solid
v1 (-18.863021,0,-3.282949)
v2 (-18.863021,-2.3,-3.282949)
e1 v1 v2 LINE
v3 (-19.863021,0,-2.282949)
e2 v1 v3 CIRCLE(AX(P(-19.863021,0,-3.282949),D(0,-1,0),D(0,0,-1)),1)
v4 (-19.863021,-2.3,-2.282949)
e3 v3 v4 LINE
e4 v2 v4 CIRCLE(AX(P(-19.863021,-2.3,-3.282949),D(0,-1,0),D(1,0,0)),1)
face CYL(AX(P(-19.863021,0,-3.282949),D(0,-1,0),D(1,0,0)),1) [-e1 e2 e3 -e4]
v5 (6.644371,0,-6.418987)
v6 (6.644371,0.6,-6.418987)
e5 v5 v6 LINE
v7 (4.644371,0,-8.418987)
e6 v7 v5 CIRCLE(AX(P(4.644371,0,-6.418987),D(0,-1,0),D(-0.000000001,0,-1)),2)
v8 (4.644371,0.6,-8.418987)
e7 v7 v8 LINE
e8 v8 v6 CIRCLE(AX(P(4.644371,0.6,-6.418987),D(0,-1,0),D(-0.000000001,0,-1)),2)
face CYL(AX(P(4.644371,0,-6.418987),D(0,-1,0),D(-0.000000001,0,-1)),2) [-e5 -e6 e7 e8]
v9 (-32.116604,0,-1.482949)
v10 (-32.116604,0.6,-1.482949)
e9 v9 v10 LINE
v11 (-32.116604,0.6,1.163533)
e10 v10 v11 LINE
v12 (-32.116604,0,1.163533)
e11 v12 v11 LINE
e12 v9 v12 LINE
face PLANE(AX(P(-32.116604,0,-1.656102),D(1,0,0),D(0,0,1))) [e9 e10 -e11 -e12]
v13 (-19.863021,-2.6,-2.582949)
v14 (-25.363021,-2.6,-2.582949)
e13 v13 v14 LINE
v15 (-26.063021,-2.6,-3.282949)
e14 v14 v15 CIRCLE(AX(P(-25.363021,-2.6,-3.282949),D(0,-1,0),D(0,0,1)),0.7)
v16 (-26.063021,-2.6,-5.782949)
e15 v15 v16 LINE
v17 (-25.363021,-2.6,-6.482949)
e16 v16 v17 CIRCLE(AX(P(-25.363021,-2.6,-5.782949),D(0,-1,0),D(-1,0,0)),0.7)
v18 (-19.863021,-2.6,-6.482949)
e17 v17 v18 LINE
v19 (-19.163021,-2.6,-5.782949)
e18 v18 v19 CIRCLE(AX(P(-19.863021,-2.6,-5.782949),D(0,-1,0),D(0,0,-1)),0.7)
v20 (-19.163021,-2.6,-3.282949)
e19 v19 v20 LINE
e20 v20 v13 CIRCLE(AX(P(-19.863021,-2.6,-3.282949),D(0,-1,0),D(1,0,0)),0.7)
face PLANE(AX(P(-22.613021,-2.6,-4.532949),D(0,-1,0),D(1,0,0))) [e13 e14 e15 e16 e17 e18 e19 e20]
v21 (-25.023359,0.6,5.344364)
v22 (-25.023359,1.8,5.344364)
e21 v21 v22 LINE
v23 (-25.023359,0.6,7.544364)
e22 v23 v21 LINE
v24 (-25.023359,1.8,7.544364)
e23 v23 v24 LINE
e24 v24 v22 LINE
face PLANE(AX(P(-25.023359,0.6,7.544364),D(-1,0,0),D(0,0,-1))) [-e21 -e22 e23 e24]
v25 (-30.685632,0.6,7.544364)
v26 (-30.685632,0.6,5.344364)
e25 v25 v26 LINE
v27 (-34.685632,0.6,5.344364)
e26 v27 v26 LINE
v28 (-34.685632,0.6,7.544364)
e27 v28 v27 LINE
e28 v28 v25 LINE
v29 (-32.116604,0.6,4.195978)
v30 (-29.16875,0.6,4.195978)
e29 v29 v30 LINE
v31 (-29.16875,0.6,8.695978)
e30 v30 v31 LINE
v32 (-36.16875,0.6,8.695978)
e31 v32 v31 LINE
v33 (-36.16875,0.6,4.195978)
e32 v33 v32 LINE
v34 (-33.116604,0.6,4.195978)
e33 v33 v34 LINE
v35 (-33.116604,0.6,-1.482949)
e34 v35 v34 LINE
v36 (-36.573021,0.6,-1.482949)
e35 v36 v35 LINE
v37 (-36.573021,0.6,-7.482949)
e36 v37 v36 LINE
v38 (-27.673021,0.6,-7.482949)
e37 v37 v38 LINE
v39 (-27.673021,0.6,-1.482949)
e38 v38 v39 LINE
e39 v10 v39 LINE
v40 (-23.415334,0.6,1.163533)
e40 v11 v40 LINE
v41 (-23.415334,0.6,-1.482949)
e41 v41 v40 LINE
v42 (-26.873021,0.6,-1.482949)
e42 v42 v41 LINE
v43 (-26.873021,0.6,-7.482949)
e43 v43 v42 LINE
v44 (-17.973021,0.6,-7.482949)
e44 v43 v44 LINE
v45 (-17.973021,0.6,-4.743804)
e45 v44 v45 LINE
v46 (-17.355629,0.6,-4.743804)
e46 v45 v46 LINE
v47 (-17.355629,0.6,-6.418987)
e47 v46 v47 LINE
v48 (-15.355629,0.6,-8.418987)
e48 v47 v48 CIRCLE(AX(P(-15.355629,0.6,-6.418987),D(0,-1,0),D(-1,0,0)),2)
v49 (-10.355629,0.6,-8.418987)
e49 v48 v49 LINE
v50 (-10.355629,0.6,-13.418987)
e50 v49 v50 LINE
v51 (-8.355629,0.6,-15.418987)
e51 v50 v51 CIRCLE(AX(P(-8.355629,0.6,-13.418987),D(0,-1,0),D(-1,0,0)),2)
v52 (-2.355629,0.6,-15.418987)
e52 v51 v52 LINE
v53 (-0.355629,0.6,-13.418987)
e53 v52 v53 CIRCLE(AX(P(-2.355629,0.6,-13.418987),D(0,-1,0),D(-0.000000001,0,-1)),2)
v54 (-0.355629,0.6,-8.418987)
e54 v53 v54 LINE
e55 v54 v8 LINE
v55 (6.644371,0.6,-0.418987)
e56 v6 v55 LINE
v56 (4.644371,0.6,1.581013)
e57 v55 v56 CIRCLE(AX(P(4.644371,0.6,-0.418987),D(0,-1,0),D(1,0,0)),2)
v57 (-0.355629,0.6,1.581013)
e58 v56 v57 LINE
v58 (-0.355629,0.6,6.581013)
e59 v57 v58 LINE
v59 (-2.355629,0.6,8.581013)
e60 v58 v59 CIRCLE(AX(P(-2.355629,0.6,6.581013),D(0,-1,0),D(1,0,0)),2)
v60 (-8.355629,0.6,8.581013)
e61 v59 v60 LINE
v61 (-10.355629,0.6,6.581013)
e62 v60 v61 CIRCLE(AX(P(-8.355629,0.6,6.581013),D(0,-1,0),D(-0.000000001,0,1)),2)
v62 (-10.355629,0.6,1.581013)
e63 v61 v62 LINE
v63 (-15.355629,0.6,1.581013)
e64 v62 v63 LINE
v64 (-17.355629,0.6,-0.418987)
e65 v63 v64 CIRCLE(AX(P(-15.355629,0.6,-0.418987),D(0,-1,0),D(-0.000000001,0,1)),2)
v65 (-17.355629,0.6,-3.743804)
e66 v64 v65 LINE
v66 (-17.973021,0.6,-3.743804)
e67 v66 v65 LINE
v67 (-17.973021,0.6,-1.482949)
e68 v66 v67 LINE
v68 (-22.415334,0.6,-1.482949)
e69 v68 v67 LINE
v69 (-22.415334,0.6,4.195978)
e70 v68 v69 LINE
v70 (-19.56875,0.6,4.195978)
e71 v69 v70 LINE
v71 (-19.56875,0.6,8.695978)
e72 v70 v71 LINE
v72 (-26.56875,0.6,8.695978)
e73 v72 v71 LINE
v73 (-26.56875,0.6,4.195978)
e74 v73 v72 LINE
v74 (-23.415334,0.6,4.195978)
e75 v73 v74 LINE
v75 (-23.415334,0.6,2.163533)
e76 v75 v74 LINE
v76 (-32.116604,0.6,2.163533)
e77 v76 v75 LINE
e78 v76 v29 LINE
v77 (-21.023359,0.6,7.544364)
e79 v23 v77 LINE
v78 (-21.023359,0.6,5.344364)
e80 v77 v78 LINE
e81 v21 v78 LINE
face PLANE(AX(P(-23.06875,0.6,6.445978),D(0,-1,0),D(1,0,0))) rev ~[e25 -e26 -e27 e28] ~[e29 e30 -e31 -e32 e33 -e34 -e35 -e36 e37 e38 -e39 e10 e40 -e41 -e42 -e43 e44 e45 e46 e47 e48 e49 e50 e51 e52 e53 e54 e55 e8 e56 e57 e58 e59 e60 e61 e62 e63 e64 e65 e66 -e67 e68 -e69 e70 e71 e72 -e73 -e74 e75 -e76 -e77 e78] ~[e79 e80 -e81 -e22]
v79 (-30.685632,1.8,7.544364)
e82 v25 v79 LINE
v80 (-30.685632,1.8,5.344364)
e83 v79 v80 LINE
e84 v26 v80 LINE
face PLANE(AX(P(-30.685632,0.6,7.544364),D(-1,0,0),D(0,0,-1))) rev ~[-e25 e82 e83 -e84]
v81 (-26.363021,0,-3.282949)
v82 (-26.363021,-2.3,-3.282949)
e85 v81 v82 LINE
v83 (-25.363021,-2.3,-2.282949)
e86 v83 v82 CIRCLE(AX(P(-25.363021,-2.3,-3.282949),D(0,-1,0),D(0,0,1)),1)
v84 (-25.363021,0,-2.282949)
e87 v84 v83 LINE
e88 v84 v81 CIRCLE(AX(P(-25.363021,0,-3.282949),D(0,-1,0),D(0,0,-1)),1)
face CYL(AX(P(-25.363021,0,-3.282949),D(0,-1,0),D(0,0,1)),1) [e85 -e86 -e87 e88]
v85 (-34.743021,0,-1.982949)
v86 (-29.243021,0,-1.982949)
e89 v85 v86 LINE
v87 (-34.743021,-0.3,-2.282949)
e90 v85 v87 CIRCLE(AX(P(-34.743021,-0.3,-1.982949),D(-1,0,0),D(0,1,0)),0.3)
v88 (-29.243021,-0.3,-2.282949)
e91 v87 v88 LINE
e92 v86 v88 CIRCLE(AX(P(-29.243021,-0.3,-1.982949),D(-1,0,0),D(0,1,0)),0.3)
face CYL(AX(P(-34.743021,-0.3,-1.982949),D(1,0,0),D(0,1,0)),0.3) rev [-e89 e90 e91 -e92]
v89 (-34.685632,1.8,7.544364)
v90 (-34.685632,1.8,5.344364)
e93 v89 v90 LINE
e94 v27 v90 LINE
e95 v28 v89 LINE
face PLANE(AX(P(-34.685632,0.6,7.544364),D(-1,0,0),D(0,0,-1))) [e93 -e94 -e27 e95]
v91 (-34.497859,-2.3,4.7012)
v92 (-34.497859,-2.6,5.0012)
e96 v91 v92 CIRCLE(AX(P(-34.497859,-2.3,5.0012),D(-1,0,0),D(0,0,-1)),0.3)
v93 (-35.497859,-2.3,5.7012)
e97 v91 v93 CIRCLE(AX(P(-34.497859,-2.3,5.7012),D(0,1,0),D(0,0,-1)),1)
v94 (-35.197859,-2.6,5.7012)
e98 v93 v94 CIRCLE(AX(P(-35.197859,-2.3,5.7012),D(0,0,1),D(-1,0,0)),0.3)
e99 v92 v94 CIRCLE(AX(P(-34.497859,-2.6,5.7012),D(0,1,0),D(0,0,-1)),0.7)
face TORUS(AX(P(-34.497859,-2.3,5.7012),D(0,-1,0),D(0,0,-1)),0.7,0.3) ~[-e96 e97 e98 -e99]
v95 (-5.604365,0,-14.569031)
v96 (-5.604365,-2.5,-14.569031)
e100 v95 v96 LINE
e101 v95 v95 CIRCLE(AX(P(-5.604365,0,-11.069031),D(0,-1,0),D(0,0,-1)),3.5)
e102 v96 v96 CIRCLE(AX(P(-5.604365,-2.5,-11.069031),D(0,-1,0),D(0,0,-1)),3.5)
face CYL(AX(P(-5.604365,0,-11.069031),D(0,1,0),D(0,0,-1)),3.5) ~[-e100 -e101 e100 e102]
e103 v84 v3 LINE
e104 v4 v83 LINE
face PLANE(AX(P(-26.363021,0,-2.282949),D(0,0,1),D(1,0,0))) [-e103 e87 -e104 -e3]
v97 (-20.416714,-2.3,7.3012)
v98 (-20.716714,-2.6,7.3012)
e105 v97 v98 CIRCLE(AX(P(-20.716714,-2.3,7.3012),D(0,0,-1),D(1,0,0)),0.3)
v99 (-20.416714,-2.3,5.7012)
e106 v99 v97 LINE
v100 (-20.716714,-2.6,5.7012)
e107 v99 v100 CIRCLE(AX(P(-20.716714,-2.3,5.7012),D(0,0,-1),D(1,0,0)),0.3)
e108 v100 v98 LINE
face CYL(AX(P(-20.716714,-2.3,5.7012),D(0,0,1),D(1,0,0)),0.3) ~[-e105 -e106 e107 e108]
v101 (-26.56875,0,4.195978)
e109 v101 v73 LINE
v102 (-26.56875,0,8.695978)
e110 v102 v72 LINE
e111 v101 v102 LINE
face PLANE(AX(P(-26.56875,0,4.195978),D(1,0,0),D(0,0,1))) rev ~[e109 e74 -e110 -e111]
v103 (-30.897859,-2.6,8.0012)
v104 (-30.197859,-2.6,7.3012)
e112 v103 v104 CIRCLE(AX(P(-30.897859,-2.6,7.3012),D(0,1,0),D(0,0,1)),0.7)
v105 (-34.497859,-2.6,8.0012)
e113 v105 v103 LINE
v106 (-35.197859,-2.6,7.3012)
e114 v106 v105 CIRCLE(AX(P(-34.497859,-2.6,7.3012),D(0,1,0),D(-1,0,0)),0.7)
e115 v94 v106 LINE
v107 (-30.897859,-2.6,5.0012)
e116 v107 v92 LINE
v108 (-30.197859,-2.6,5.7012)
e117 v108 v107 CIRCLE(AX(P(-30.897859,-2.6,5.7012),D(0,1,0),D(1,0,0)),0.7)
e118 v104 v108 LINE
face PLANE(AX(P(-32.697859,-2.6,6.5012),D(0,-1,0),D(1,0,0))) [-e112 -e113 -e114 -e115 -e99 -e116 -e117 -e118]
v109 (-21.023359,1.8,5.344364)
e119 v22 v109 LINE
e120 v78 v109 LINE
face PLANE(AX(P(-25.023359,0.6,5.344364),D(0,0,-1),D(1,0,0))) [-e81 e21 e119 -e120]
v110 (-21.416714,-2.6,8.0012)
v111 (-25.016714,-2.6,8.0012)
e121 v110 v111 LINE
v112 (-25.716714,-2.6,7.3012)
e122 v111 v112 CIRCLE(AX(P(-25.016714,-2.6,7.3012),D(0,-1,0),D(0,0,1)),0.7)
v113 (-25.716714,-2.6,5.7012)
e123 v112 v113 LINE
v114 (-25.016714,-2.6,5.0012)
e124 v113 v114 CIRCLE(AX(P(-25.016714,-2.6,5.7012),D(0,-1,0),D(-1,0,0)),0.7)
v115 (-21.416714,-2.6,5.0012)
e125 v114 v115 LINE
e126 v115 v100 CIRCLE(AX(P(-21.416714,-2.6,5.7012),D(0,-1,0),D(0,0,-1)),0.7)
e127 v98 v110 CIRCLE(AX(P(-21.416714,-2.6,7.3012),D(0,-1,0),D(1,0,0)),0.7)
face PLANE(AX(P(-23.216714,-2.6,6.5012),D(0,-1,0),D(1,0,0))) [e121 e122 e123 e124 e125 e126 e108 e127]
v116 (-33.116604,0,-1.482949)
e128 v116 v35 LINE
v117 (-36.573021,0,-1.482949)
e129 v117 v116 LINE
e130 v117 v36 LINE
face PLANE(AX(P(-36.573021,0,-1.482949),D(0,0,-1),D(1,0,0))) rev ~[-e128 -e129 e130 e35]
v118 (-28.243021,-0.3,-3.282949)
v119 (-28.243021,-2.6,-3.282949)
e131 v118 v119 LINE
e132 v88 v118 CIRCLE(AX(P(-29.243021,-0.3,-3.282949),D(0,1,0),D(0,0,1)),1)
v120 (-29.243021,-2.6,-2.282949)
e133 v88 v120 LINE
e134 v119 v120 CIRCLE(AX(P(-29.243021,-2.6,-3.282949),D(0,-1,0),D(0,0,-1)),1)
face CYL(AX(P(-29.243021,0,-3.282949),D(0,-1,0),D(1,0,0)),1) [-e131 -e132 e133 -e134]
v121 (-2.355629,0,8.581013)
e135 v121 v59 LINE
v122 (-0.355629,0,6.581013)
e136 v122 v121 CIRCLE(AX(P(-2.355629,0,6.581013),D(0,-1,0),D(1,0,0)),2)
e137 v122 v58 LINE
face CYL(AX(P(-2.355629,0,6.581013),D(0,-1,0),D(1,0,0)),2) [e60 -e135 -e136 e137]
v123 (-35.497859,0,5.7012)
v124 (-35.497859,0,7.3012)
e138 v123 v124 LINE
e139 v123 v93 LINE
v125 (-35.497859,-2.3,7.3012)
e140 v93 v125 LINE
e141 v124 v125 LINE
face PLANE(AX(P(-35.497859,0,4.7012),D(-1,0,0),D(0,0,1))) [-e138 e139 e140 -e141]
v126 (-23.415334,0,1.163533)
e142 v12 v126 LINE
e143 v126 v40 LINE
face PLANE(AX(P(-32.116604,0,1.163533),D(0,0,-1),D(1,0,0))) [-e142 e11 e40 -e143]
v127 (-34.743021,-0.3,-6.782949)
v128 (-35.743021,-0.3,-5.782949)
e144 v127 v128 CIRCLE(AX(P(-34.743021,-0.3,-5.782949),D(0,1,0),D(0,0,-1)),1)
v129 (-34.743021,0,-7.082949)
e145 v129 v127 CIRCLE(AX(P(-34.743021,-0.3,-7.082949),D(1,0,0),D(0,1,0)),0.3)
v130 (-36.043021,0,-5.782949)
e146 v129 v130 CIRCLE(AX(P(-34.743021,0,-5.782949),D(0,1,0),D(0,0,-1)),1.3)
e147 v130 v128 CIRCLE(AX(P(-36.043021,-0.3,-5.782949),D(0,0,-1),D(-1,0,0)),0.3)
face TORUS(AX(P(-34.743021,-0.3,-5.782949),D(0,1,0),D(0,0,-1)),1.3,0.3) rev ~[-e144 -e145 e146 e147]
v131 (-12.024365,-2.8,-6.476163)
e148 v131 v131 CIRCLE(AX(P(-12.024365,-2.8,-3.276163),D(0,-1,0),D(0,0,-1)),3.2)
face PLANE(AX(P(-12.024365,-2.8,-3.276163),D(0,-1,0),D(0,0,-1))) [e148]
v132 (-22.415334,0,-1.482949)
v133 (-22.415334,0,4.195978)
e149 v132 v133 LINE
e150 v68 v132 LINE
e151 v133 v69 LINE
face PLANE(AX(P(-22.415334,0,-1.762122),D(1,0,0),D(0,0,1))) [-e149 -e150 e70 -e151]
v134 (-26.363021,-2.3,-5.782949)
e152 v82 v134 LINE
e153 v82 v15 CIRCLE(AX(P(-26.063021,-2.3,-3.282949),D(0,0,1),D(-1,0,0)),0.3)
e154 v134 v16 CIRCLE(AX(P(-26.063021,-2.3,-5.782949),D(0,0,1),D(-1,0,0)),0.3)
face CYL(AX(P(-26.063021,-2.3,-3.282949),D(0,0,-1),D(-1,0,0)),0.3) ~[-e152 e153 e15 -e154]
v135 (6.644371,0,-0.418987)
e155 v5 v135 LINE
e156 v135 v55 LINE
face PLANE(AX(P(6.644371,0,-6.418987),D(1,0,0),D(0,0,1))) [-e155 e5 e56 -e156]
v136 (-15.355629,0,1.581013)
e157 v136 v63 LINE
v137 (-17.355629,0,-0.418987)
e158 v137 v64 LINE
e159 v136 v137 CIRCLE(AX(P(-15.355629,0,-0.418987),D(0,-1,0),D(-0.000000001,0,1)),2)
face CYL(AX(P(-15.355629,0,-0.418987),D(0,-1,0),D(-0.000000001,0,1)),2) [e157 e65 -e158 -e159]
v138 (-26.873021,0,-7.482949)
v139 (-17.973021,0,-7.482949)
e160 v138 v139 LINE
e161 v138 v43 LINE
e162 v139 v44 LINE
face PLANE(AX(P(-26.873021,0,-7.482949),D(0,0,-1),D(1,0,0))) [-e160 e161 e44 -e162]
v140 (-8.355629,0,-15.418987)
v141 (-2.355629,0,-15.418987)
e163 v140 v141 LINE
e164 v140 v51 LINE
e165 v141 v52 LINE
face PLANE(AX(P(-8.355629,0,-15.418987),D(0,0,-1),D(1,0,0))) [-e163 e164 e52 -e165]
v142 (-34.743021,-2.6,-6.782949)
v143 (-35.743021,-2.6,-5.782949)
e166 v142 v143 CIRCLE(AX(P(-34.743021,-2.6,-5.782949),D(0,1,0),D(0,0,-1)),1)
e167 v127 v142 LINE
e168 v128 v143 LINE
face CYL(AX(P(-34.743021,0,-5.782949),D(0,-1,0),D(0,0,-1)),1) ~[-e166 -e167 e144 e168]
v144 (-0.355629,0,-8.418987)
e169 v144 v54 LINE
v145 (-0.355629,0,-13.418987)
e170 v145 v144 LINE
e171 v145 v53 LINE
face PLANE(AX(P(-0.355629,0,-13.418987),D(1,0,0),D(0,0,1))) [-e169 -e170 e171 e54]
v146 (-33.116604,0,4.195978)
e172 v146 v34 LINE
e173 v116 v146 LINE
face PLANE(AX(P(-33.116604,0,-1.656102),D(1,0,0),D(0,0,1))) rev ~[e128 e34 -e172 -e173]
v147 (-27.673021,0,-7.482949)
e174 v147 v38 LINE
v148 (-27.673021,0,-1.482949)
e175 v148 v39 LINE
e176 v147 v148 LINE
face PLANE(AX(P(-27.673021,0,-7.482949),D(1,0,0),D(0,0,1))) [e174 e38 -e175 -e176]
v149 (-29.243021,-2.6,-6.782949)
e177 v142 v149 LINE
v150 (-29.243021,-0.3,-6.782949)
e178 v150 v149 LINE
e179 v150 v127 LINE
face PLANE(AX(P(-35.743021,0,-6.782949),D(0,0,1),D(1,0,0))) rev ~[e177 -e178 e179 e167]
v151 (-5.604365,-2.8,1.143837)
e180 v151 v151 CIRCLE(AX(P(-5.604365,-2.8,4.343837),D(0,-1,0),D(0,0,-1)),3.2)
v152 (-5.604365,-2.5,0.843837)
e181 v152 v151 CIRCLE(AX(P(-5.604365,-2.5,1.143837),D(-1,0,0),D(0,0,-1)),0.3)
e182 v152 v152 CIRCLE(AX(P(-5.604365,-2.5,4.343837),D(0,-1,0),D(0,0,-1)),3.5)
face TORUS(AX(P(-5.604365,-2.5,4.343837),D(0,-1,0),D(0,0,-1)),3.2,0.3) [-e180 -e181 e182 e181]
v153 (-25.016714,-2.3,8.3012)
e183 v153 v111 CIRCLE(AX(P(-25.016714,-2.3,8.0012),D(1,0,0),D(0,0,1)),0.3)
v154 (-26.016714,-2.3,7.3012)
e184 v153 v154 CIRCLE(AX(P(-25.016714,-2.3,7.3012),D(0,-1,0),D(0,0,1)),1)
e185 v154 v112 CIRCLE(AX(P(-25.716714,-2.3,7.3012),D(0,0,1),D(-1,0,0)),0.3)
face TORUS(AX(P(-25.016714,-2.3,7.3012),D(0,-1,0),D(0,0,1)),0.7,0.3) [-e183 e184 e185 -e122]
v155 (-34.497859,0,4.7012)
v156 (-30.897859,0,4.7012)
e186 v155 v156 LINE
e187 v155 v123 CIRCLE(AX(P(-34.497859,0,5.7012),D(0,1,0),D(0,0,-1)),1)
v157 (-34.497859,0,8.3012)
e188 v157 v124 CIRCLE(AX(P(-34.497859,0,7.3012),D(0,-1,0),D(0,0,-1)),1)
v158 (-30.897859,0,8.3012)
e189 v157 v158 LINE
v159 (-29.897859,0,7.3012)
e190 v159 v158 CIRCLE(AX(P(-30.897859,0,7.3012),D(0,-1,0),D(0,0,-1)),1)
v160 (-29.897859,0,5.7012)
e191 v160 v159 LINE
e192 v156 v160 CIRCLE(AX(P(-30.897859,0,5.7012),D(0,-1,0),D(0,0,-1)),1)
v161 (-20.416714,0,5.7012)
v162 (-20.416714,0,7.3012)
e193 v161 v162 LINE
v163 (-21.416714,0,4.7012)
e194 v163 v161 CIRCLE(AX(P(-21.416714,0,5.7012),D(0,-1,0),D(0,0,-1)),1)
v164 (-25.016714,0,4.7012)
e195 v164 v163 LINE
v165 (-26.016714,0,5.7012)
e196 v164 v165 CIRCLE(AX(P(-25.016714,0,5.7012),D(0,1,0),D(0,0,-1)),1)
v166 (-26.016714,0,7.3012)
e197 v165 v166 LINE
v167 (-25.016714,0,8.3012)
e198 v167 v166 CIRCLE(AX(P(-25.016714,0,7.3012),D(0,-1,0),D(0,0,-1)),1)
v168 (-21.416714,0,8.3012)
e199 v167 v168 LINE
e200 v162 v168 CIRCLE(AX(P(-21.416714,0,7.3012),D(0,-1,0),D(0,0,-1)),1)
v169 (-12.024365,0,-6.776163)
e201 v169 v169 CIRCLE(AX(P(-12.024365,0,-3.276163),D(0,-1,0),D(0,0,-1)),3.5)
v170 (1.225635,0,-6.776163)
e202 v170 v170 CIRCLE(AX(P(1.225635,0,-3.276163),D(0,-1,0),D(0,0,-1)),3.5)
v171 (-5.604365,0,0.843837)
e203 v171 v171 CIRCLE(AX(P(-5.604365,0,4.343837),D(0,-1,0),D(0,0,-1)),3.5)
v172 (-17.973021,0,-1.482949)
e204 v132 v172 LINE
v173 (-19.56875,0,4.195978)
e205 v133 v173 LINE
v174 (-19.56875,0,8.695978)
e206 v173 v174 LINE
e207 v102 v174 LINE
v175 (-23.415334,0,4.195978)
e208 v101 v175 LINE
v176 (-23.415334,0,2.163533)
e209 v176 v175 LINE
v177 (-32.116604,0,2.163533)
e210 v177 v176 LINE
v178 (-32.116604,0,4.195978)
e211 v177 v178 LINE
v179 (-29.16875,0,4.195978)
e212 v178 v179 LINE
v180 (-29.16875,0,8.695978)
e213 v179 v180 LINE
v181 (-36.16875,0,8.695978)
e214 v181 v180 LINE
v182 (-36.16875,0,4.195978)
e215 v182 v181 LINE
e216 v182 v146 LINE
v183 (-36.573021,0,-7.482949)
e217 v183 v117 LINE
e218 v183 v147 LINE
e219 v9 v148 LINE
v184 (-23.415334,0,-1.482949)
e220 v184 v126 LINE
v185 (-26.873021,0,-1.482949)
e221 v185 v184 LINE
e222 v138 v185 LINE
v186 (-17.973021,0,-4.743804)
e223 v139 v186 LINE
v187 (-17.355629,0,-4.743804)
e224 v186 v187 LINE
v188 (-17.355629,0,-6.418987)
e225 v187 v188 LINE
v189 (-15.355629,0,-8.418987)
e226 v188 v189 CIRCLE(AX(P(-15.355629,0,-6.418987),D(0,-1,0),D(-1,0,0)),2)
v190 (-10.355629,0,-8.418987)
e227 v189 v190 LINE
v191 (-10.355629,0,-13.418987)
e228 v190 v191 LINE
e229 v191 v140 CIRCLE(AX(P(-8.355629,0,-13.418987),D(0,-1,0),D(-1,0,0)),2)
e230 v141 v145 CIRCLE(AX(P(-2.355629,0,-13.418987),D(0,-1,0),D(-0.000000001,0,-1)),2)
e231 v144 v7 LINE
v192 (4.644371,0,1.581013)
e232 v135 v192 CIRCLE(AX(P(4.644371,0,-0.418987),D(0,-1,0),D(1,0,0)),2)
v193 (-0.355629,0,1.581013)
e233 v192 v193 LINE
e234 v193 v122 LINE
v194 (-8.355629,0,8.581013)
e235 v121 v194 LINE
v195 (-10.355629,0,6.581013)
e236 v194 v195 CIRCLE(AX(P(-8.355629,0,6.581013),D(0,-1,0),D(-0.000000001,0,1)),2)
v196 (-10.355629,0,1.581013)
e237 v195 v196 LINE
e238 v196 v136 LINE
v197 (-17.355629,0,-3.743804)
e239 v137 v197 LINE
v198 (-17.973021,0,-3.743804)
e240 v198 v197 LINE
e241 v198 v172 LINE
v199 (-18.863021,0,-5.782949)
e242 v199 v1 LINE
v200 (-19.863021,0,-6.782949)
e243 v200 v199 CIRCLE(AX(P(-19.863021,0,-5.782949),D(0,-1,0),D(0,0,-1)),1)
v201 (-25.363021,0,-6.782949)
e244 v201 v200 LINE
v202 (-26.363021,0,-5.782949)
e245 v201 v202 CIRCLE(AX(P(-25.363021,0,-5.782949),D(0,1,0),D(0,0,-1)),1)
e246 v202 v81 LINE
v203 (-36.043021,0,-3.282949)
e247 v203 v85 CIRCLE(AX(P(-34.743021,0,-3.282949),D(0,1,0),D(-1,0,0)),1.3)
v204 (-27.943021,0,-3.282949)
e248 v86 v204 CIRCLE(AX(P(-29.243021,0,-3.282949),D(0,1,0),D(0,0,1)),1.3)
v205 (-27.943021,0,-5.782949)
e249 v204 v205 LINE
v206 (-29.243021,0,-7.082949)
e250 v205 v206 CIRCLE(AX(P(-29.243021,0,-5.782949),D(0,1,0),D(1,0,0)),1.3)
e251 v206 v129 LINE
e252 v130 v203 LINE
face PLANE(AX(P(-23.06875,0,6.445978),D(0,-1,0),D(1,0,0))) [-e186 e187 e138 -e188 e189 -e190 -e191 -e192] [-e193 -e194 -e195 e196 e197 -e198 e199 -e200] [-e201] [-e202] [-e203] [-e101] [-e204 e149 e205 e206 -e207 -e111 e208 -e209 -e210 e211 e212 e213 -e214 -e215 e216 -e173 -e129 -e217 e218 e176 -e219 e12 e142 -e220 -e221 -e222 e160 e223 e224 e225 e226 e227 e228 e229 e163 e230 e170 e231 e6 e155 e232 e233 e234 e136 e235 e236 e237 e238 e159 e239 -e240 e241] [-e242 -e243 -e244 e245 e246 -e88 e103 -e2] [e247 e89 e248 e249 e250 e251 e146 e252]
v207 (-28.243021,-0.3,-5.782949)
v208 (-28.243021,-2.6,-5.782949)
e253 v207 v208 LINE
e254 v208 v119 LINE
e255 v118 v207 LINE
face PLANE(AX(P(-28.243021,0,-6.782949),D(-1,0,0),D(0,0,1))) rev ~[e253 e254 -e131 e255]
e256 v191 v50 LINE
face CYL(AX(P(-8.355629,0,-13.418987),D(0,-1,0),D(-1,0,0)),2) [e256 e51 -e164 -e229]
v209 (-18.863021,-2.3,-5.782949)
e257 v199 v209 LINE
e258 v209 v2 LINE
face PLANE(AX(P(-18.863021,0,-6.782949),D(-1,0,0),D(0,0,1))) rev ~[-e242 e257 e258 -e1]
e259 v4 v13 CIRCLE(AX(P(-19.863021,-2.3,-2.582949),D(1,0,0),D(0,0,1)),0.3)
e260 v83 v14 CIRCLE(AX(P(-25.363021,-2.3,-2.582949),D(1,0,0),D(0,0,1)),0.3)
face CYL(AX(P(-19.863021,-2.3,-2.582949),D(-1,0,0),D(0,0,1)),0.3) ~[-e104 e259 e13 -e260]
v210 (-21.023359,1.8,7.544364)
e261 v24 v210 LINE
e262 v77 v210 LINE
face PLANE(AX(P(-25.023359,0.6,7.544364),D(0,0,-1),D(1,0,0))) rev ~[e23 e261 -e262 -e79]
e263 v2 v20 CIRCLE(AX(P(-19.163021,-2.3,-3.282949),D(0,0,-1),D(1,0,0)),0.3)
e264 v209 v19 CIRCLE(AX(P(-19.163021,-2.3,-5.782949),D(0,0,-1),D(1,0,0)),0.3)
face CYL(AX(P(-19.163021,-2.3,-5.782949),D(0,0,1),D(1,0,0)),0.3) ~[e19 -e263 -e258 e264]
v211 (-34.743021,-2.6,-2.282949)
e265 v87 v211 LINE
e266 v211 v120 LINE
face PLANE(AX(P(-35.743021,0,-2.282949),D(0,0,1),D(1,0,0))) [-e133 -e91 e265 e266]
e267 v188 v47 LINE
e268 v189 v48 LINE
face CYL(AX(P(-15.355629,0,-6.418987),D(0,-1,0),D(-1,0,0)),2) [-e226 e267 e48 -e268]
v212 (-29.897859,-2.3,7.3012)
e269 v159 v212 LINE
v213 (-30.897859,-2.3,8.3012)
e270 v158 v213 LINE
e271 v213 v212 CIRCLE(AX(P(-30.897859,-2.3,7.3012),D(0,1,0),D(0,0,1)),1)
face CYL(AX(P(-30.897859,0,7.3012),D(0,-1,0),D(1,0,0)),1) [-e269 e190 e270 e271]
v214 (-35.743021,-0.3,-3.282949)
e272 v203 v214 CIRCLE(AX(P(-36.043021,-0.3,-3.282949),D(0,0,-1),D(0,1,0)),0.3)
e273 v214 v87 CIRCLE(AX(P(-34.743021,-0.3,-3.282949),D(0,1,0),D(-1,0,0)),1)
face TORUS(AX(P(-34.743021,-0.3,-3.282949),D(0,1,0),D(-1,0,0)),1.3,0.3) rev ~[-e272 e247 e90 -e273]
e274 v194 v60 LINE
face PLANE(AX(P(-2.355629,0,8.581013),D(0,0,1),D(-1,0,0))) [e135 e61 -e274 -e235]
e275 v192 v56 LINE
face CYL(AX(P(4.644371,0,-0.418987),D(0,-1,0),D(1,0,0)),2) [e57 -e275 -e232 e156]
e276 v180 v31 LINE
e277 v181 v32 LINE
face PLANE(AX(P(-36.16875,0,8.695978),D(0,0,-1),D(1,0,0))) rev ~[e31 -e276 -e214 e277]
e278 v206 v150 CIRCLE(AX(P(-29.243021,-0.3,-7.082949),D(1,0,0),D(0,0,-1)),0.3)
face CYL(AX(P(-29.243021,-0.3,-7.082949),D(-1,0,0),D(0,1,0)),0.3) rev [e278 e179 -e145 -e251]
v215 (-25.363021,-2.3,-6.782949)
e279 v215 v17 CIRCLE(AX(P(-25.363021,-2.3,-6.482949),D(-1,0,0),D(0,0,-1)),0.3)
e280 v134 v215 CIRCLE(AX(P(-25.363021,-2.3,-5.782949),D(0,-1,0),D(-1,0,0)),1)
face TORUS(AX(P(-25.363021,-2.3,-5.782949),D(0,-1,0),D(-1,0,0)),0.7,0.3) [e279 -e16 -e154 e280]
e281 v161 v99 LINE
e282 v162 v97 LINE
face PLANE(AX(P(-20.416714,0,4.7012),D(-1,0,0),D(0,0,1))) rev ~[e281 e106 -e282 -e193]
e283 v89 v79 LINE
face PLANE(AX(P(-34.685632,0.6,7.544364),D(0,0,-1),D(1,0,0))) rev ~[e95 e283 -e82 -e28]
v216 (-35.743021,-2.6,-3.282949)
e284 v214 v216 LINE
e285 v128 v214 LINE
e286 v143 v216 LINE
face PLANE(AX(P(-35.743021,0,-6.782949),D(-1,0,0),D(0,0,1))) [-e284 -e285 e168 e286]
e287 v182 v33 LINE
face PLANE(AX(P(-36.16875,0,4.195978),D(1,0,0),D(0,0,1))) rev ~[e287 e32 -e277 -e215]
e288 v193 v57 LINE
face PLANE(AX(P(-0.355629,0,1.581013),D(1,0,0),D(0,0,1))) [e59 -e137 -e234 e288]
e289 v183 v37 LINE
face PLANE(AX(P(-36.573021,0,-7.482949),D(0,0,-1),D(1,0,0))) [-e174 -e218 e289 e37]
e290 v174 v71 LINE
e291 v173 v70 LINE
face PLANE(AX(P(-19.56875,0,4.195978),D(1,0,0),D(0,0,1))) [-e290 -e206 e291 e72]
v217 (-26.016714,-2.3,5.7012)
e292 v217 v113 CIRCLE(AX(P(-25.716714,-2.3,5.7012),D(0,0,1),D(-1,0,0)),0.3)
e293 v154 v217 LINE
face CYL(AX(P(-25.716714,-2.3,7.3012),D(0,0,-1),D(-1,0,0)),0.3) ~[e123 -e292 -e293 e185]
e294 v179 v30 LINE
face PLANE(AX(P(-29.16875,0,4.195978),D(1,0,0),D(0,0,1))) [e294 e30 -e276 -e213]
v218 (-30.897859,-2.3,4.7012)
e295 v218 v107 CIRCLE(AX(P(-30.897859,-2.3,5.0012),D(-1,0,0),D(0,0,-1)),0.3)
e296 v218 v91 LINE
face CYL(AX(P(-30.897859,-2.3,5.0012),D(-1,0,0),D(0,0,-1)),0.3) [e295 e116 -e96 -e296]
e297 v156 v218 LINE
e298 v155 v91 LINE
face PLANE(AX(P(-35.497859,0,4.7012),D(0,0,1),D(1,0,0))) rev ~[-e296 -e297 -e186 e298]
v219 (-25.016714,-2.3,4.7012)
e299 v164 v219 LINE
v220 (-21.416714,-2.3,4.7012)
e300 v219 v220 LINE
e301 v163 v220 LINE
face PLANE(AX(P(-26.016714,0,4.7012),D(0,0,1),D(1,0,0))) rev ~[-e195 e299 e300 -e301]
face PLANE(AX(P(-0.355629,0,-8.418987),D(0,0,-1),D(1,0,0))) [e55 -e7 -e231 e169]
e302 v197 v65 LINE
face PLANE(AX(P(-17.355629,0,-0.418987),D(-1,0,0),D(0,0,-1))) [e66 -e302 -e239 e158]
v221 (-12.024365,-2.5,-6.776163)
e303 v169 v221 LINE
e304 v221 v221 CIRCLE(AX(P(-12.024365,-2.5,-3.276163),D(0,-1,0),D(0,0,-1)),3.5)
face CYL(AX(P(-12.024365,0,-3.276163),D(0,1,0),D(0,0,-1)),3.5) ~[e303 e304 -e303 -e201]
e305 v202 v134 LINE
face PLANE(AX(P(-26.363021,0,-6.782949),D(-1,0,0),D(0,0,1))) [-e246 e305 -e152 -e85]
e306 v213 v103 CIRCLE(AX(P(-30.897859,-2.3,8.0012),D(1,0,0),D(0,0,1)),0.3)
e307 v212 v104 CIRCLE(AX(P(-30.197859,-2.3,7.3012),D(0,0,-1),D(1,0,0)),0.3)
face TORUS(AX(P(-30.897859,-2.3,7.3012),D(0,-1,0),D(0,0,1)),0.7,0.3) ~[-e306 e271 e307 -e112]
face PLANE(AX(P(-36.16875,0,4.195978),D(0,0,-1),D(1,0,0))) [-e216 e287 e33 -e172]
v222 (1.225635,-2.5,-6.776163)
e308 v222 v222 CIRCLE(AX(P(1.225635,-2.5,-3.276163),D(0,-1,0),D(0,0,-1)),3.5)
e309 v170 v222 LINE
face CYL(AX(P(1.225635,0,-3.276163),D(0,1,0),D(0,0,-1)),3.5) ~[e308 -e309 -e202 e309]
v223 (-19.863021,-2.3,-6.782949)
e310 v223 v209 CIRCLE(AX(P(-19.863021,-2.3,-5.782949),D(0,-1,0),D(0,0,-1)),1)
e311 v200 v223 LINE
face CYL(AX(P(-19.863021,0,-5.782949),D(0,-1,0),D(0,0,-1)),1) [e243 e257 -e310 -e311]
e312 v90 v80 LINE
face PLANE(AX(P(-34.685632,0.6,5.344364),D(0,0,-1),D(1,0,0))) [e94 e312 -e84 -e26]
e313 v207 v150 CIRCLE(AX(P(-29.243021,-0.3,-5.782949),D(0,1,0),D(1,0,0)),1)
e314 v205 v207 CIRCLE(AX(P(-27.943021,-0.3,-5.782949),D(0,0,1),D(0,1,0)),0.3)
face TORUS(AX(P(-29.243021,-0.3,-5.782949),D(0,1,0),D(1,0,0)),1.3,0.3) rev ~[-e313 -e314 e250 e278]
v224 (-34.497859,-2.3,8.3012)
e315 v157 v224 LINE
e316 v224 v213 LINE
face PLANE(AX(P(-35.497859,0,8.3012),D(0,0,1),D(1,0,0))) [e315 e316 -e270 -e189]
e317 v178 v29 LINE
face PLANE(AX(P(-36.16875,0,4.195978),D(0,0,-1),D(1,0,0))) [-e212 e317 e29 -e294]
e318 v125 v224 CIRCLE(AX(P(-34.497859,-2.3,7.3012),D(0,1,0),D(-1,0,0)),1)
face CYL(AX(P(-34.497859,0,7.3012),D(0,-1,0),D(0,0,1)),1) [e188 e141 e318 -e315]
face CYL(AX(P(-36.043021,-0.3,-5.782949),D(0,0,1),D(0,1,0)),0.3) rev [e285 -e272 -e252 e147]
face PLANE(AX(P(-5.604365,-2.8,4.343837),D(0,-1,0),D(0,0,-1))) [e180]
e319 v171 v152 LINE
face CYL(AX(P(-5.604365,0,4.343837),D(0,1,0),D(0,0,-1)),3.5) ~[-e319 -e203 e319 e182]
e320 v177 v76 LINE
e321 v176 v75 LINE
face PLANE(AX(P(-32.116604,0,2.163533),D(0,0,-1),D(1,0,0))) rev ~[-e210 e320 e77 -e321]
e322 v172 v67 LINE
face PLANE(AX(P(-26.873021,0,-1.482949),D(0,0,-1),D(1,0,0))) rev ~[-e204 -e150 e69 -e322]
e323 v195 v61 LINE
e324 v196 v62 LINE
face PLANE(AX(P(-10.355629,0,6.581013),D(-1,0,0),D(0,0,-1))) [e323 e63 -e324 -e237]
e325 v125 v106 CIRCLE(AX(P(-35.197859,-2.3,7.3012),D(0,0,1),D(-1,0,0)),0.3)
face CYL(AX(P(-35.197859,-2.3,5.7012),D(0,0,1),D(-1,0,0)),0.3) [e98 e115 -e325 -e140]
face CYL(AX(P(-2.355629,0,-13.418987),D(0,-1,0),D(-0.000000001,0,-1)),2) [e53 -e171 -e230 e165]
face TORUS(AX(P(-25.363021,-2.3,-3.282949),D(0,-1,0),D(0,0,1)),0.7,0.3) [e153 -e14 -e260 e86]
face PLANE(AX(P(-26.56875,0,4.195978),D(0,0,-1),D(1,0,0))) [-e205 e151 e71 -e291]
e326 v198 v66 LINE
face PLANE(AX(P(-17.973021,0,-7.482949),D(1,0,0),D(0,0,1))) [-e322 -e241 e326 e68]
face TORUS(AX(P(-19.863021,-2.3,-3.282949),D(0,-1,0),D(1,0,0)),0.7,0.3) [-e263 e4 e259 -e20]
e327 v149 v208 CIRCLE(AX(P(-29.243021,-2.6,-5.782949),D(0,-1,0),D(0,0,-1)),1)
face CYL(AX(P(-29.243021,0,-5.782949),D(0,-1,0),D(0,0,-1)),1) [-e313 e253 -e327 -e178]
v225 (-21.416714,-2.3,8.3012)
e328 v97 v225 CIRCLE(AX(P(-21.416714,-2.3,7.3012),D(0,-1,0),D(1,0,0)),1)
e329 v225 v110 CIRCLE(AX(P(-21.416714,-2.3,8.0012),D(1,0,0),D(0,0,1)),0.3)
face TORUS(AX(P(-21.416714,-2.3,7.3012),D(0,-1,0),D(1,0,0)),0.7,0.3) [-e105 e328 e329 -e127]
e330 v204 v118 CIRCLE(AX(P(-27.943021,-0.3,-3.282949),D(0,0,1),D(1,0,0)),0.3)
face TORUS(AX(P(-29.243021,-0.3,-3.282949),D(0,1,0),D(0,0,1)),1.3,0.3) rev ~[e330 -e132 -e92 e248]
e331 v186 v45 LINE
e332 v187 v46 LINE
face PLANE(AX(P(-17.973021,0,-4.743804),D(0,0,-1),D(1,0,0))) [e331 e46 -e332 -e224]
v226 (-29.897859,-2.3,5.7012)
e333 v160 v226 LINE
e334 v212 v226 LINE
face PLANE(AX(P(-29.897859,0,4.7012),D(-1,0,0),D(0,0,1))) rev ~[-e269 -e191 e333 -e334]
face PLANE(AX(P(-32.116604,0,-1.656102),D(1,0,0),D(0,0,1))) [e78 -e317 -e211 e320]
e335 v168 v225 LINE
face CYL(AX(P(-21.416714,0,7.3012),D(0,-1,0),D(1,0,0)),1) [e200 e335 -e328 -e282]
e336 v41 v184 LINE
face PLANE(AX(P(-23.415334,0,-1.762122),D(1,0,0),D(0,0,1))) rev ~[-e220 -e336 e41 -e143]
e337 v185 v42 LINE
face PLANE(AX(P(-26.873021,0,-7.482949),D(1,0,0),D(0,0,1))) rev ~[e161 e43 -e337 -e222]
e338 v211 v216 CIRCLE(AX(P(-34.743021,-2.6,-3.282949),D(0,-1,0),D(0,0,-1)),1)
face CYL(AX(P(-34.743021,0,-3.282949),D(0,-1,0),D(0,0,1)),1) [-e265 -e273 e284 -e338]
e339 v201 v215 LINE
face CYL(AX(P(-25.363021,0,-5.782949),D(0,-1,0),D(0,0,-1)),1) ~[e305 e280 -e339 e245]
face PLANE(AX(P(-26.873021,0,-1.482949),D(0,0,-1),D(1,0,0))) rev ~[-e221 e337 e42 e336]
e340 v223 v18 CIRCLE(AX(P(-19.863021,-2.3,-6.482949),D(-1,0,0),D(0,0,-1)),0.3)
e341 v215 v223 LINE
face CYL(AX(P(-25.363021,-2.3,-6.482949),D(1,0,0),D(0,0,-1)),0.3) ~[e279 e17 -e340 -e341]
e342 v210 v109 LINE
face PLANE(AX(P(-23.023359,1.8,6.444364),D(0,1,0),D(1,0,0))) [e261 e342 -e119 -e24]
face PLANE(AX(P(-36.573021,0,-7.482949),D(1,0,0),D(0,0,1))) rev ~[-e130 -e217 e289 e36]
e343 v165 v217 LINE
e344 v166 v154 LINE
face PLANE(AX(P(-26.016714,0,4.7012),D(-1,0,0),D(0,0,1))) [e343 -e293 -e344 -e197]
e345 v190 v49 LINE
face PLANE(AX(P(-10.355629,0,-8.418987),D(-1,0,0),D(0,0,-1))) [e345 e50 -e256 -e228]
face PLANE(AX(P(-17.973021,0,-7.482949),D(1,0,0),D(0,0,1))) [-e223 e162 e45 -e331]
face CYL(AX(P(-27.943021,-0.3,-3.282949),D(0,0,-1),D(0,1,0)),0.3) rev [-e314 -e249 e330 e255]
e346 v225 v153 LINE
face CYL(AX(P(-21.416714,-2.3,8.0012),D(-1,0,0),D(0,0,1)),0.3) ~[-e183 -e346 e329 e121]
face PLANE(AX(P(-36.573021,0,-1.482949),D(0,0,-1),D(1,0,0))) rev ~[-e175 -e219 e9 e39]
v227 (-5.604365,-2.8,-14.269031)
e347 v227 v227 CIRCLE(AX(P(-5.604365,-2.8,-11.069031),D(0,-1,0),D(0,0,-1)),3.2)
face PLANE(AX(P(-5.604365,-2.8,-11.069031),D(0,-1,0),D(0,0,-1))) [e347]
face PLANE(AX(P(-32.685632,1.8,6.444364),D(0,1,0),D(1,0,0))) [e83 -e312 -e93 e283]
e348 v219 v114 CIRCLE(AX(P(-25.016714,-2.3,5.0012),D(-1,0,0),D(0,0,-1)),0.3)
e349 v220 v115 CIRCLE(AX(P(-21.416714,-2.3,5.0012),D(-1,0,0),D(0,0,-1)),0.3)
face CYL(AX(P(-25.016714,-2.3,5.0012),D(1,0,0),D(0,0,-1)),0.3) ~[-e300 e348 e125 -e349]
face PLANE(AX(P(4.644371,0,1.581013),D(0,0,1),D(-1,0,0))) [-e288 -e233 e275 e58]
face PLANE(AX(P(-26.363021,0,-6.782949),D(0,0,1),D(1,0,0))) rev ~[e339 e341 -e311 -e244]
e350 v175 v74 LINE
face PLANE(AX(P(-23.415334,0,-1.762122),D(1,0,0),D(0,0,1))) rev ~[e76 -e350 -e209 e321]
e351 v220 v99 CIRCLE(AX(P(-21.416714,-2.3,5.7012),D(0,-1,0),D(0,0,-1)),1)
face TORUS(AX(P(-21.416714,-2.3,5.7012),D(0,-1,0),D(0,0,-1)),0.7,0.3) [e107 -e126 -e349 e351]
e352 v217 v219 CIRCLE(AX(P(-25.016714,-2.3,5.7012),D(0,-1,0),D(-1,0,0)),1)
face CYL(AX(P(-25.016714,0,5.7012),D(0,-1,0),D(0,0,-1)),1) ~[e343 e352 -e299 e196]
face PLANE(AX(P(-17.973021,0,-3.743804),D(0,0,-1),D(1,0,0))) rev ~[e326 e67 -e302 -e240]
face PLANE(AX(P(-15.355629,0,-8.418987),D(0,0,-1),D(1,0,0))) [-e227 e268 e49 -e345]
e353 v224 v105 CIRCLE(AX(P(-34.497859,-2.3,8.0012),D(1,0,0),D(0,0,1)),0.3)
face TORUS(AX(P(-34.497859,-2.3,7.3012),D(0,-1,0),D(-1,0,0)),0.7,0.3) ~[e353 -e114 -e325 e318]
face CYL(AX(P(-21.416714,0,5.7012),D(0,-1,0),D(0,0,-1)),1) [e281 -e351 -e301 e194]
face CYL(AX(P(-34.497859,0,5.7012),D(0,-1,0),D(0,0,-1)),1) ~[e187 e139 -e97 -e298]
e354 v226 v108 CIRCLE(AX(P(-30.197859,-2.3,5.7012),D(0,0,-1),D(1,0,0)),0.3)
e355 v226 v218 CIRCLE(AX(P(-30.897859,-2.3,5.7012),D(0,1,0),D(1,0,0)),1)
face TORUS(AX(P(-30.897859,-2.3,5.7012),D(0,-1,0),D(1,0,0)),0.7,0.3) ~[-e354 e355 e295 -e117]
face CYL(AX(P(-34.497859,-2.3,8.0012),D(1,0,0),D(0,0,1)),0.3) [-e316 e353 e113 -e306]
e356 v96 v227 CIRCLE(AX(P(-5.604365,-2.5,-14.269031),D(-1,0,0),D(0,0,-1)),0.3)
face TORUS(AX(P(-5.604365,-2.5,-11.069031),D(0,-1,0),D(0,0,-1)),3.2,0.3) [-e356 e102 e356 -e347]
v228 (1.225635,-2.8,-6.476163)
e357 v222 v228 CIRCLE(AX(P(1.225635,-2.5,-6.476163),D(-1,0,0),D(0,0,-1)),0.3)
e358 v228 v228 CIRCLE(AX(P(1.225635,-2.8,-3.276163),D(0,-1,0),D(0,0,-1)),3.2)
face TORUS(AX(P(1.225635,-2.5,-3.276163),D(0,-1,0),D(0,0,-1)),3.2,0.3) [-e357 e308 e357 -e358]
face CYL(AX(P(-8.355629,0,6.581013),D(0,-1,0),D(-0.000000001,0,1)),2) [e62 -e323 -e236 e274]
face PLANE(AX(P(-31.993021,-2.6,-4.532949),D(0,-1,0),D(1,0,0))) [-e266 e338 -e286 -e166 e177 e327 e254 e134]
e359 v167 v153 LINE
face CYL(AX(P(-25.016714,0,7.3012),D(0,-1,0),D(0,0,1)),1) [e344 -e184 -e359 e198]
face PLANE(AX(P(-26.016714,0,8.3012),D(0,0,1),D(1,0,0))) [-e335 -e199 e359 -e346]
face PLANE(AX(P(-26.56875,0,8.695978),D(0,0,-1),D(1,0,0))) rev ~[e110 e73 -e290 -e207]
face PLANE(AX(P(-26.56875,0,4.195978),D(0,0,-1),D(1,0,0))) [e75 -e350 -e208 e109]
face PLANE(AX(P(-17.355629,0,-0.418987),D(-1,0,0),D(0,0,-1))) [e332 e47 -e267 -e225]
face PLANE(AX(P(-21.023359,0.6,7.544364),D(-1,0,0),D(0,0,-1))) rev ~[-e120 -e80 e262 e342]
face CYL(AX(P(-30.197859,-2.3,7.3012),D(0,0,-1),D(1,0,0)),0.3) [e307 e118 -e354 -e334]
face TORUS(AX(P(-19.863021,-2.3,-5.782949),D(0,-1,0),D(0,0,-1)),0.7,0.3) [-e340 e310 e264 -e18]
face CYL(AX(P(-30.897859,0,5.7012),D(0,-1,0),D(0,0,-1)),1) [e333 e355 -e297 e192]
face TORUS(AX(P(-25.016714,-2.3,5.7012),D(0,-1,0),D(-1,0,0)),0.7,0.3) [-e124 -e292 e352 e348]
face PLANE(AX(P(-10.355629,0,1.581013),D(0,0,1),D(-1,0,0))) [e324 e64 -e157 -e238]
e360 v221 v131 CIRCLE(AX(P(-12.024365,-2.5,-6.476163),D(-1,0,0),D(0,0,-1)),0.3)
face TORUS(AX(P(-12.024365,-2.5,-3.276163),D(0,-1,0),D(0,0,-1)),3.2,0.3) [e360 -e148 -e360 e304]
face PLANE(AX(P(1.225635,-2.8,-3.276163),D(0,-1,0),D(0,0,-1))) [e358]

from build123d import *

# Parameters (mm, degrees)
EXTRUDE_1_DEPTH   = 0.6
SKETCH_3_W        = 8.9
SKETCH_3_H        = 6
EXTRUDE_3_DEPTH   = 0.6
EXTRUDE_3_2_DEPTH = 0.6
SKETCH_3_W_2      = 7
SKETCH_3_H_2      = 4.5
EXTRUDE_3_3_DEPTH = 0.6
EXTRUDE_3_4_DEPTH = 0.6
SKETCH_4_W        = 1
SKETCH_4_H        = 6.374610307
EXTRUDE_4_DEPTH   = 0.6
SKETCH_4_H_2      = 6.651172628
EXTRUDE_4_2_DEPTH = 0.6
SKETCH_5_W        = 8.701270278
SKETCH_5_H        = 1
SKETCH_5_W_2      = 0.617391651
EXTRUDE_5_DEPTH   = 0.6
SKETCH_6_W        = 5.6
SKETCH_6_H        = 3.6
SKETCH_6_W_2      = 7.5
SKETCH_6_H_2      = 4.5
EXTRUDE_6_DEPTH   = 2.6
FILLET_2_R        = 1
SKETCH_8_W        = 4
SKETCH_8_H        = 2.2
EXTRUDE_7_DEPTH   = 1.2
SKETCH_9_R        = 3.5
EXTRUDE_8_DEPTH   = 2.8
FILLET_3_R        = 0.3
FILLET_4_R        = 0.3


with BuildPart() as part:
    # 草图1 → 凸台-拉伸1 (new body)
    with BuildSketch(Plane(origin=(0, 0, 0), x_dir=(1, 0, 0), z_dir=(0, 1, 0))):
        with BuildLine():
            Line((-10.355628916, -1.581012653), (-15.355628916, -1.581012653))
            ThreePointArc((-15.355628916, -1.581012653), (-16.769842478, -0.995226215), (-17.355628916, 0.418987347))
            Line((-17.355628916, 0.418987347), (-17.355628916, 6.418987347))
            ThreePointArc((-17.355628916, 6.418987347), (-16.769842478, 7.83320091), (-15.355628916, 8.418987347))
            Line((-15.355628916, 8.418987347), (-10.355628916, 8.418987347))
            Line((-10.355628916, 8.418987347), (-10.355628916, 13.418987347))
            ThreePointArc((-10.355628916, 13.418987347), (-9.769842478, 14.83320091), (-8.355628916, 15.418987347))
            Line((-8.355628916, 15.418987347), (-2.355628916, 15.418987347))
            ThreePointArc((-2.355628916, 15.418987347), (-0.941415353, 14.83320091), (-0.355628916, 13.418987347))
            Line((-0.355628916, 13.418987347), (-0.355628916, 8.418987347))
            Line((-0.355628916, 8.418987347), (4.644371084, 8.418987347))
            ThreePointArc((4.644371084, 8.418987347), (6.058584647, 7.83320091), (6.644371084, 6.418987347))
            Line((6.644371084, 6.418987347), (6.644371084, 0.418987347))
            ThreePointArc((6.644371084, 0.418987347), (6.058584647, -0.995226215), (4.644371084, -1.581012653))
            Line((4.644371084, -1.581012653), (-0.355628916, -1.581012653))
            Line((-0.355628916, -1.581012653), (-0.355628916, -6.581012653))
            ThreePointArc((-0.355628916, -6.581012653), (-0.941415353, -7.995226215), (-2.355628916, -8.581012653))
            Line((-2.355628916, -8.581012653), (-8.355628916, -8.581012653))
            ThreePointArc((-8.355628916, -8.581012653), (-9.769842478, -7.995226215), (-10.355628916, -6.581012653))
            Line((-10.355628916, -6.581012653), (-10.355628916, -1.581012653))
        make_face()
    extrude(amount=EXTRUDE_1_DEPTH)



with BuildPart() as body_2:
    # 草图3 → 凸台-拉伸3 (new body)
    with BuildSketch(Plane.XZ):
        with Locations((-32.123020567, -4.482948627)):
            Rectangle(SKETCH_3_W, SKETCH_3_H)
    extrude(amount=-EXTRUDE_3_DEPTH)


with BuildPart() as body_3:
    # 草图3 → Extrude 3 2 (new body)
    with BuildSketch(Plane.XZ):
        with Locations((-22.423020567, -4.482948627)):
            Rectangle(SKETCH_3_W, SKETCH_3_H)
    extrude(amount=-EXTRUDE_3_2_DEPTH)


with BuildPart() as body_4:
    # 草图3 → Extrude 3 3 (new body)
    with BuildSketch(Plane.XZ):
        with Locations((-32.668750019, 6.445978318)):
            Rectangle(SKETCH_3_W_2, SKETCH_3_H_2)
    extrude(amount=-EXTRUDE_3_3_DEPTH)


with BuildPart() as body_5:
    # 草图3 → Extrude 3 4 (new body)
    with BuildSketch(Plane.XZ):
        with Locations((-23.068750019, 6.445978318)):
            Rectangle(SKETCH_3_W_2, SKETCH_3_H_2)
    extrude(amount=-EXTRUDE_3_4_DEPTH)


with BuildPart() as body_6:
    # 草图4 → 凸台-拉伸4 (new body)
    with BuildSketch(Plane.XZ):
        with Locations((-32.61660435, 1.531203151)):
            Rectangle(SKETCH_4_W, SKETCH_4_H)
    extrude(amount=-EXTRUDE_4_DEPTH)


with BuildPart() as body_7:
    # 草图4 → Extrude 4 2 (new body)
    with BuildSketch(Plane.XZ):
        with Locations((-22.915334072, 1.563464225)):
            Rectangle(SKETCH_4_W, SKETCH_4_H_2)
    extrude(amount=-EXTRUDE_4_2_DEPTH)


with BuildPart() as part_1:
    add(part.part)

    add(body_3.part)  # 凸台-拉伸5 merges body 3

    add(body_6.part)  # 凸台-拉伸5 merges body 6

    add(body_7.part)  # 凸台-拉伸5 merges body 7
    # 草图5 → 凸台-拉伸5 (add)
    with BuildSketch(Plane.XZ):
        with Locations((-27.765969211, 1.663532577)):
            Rectangle(SKETCH_5_W, SKETCH_5_H)
        with Locations((-17.664324742, -4.243803878)):
            Rectangle(SKETCH_5_W_2, SKETCH_5_H)
    extrude(amount=-EXTRUDE_5_DEPTH)


    add(body_2.part)  # 凸台-拉伸6 merges body 2

    add(body_4.part)  # 凸台-拉伸6 merges body 4

    add(body_5.part)  # 凸台-拉伸6 merges body 5
    # 草图6 → 凸台-拉伸6 (add)
    with BuildSketch(Plane.XZ):
        with Locations((-32.697859359, 6.501200347)):
            Rectangle(SKETCH_6_W, SKETCH_6_H)
        with Locations((-23.216713991, 6.501200347)):
            Rectangle(SKETCH_6_W, SKETCH_6_H)
        with Locations((-31.993020567, -4.532948627)):
            Rectangle(SKETCH_6_W_2, SKETCH_6_H_2)
        with Locations((-22.613020567, -4.532948627)):
            Rectangle(SKETCH_6_W_2, SKETCH_6_H_2)
    extrude(amount=EXTRUDE_6_DEPTH)

    # 圆角2
    fillet_2_edges = [part_1.edges().sort_by_distance(p)[0] for p in [
        (-35.497859359, -1.3, 8.301200347),
        (-35.497859359, -1.3, 4.701200347),
        (-29.897859359, -1.3, 4.701200347),
        (-29.897859359, -1.3, 8.301200347),
        (-26.016713991, -1.3, 8.301200347),
        (-26.016713991, -1.3, 4.701200347),
        (-20.416713991, -1.3, 4.701200347),
        (-20.416713991, -1.3, 8.301200347),
        (-26.363020567, -1.3, -2.282948627),
        (-26.363020567, -1.3, -6.782948627),
        (-18.863020567, -1.3, -6.782948627),
        (-18.863020567, -1.3, -2.282948627),
        (-35.743020567, -1.3, -2.282948627),
        (-35.743020567, -1.3, -6.782948627),
        (-28.243020567, -1.3, -6.782948627),
        (-28.243020567, -1.3, -2.282948627),
    ]]
    fillet(fillet_2_edges, radius=FILLET_2_R)

    # 草图8 → 凸台-拉伸7 (add)
    with BuildSketch(Plane(origin=(0, 0.6, 0), x_dir=(1, 0, 0), z_dir=(0, 1, 0))):
        with Locations((-32.685632336, -6.44436416)):
            Rectangle(SKETCH_8_W, SKETCH_8_H)
        with Locations((-23.023359298, -6.44436416)):
            Rectangle(SKETCH_8_W, SKETCH_8_H)
    extrude(amount=EXTRUDE_7_DEPTH)

    # 草图9 → 凸台-拉伸8 (add)
    with BuildSketch(Plane.XZ):
        with Locations(Location((-12.024365416, -3.276163463, 0), (0, 0, 270))):  # turned: the seam where the file's is
            Circle(SKETCH_9_R)
        with Locations(Location((-5.604365416, 4.343836537, 0), (0, 0, 270))):  # turned: the seam where the file's is
            Circle(SKETCH_9_R)
        with Locations(Location((-5.604365416, -11.069030807, 0), (0, 0, 270))):  # turned: the seam where the file's is
            Circle(SKETCH_9_R)
        with Locations(Location((1.225634584, -3.276163463, 0), (0, 0, 270))):  # turned: the seam where the file's is
            Circle(SKETCH_9_R)
    extrude(amount=EXTRUDE_8_DEPTH)

    # 圆角3
    fillet_3_edges = [part_1.edges().sort_by_distance(p)[0] for p in [
        (-12.024365416, -2.8, 0.223836537),
        (-5.604365416, -2.8, 7.843836537),
        (-5.604365416, -2.8, -7.569030807),
        (1.225634584, -2.8, 0.223836537),
    ]]
    fillet(fillet_3_edges, radius=FILLET_3_R)

    # 圆角4
    fillet_4_edges = [part_1.edges().sort_by_distance(p)[0] for p in [
        (-22.613020567, -2.6, -6.782948627),
        (-26.363020567, -2.6, -4.532948627),
        (-18.863020567, -2.6, -4.532948627),
        (-22.613020567, -2.6, -2.282948627),
        (-26.070127348, -2.6, -2.575841846),
        (-19.155913786, -2.6, -2.575841846),
        (-19.155913786, -2.6, -6.490055408),
        (-26.070127348, -2.6, -6.490055408),
        (-31.993020567, 0, -2.282948627),
        (-28.243020567, 0, -4.532948627),
        (-35.743020567, 0, -4.532948627),
        (-31.993020567, 0, -6.782948627),
        (-20.416713991, -2.6, 6.501200347),
        (-23.216713991, -2.6, 4.701200347),
        (-26.016713991, -2.6, 6.501200347),
        (-23.216713991, -2.6, 8.301200347),
        (-25.723820772, -2.6, 8.008307128),
        (-20.70960721, -2.6, 8.008307128),
        (-25.723820772, -2.6, 4.994093566),
        (-20.70960721, -2.6, 4.994093566),
        (-35.497859359, -2.6, 6.501200347),
        (-32.697859359, -2.6, 8.301200347),
        (-32.697859359, -2.6, 4.701200347),
        (-29.897859359, -2.6, 6.501200347),
        (-35.20496614, -2.6, 4.994093566),
        (-30.190752578, -2.6, 4.994093566),
        (-30.190752578, -2.6, 8.008307128),
        (-35.20496614, -2.6, 8.008307128),
        (-28.535913786, 0, -2.575841846),
        (-35.450127348, 0, -2.575841846),
        (-35.450127348, 0, -6.490055408),
        (-28.535913786, 0, -6.490055408),
    ]]
    fillet(fillet_4_edges, radius=FILLET_4_R)


solid = part_1.part
